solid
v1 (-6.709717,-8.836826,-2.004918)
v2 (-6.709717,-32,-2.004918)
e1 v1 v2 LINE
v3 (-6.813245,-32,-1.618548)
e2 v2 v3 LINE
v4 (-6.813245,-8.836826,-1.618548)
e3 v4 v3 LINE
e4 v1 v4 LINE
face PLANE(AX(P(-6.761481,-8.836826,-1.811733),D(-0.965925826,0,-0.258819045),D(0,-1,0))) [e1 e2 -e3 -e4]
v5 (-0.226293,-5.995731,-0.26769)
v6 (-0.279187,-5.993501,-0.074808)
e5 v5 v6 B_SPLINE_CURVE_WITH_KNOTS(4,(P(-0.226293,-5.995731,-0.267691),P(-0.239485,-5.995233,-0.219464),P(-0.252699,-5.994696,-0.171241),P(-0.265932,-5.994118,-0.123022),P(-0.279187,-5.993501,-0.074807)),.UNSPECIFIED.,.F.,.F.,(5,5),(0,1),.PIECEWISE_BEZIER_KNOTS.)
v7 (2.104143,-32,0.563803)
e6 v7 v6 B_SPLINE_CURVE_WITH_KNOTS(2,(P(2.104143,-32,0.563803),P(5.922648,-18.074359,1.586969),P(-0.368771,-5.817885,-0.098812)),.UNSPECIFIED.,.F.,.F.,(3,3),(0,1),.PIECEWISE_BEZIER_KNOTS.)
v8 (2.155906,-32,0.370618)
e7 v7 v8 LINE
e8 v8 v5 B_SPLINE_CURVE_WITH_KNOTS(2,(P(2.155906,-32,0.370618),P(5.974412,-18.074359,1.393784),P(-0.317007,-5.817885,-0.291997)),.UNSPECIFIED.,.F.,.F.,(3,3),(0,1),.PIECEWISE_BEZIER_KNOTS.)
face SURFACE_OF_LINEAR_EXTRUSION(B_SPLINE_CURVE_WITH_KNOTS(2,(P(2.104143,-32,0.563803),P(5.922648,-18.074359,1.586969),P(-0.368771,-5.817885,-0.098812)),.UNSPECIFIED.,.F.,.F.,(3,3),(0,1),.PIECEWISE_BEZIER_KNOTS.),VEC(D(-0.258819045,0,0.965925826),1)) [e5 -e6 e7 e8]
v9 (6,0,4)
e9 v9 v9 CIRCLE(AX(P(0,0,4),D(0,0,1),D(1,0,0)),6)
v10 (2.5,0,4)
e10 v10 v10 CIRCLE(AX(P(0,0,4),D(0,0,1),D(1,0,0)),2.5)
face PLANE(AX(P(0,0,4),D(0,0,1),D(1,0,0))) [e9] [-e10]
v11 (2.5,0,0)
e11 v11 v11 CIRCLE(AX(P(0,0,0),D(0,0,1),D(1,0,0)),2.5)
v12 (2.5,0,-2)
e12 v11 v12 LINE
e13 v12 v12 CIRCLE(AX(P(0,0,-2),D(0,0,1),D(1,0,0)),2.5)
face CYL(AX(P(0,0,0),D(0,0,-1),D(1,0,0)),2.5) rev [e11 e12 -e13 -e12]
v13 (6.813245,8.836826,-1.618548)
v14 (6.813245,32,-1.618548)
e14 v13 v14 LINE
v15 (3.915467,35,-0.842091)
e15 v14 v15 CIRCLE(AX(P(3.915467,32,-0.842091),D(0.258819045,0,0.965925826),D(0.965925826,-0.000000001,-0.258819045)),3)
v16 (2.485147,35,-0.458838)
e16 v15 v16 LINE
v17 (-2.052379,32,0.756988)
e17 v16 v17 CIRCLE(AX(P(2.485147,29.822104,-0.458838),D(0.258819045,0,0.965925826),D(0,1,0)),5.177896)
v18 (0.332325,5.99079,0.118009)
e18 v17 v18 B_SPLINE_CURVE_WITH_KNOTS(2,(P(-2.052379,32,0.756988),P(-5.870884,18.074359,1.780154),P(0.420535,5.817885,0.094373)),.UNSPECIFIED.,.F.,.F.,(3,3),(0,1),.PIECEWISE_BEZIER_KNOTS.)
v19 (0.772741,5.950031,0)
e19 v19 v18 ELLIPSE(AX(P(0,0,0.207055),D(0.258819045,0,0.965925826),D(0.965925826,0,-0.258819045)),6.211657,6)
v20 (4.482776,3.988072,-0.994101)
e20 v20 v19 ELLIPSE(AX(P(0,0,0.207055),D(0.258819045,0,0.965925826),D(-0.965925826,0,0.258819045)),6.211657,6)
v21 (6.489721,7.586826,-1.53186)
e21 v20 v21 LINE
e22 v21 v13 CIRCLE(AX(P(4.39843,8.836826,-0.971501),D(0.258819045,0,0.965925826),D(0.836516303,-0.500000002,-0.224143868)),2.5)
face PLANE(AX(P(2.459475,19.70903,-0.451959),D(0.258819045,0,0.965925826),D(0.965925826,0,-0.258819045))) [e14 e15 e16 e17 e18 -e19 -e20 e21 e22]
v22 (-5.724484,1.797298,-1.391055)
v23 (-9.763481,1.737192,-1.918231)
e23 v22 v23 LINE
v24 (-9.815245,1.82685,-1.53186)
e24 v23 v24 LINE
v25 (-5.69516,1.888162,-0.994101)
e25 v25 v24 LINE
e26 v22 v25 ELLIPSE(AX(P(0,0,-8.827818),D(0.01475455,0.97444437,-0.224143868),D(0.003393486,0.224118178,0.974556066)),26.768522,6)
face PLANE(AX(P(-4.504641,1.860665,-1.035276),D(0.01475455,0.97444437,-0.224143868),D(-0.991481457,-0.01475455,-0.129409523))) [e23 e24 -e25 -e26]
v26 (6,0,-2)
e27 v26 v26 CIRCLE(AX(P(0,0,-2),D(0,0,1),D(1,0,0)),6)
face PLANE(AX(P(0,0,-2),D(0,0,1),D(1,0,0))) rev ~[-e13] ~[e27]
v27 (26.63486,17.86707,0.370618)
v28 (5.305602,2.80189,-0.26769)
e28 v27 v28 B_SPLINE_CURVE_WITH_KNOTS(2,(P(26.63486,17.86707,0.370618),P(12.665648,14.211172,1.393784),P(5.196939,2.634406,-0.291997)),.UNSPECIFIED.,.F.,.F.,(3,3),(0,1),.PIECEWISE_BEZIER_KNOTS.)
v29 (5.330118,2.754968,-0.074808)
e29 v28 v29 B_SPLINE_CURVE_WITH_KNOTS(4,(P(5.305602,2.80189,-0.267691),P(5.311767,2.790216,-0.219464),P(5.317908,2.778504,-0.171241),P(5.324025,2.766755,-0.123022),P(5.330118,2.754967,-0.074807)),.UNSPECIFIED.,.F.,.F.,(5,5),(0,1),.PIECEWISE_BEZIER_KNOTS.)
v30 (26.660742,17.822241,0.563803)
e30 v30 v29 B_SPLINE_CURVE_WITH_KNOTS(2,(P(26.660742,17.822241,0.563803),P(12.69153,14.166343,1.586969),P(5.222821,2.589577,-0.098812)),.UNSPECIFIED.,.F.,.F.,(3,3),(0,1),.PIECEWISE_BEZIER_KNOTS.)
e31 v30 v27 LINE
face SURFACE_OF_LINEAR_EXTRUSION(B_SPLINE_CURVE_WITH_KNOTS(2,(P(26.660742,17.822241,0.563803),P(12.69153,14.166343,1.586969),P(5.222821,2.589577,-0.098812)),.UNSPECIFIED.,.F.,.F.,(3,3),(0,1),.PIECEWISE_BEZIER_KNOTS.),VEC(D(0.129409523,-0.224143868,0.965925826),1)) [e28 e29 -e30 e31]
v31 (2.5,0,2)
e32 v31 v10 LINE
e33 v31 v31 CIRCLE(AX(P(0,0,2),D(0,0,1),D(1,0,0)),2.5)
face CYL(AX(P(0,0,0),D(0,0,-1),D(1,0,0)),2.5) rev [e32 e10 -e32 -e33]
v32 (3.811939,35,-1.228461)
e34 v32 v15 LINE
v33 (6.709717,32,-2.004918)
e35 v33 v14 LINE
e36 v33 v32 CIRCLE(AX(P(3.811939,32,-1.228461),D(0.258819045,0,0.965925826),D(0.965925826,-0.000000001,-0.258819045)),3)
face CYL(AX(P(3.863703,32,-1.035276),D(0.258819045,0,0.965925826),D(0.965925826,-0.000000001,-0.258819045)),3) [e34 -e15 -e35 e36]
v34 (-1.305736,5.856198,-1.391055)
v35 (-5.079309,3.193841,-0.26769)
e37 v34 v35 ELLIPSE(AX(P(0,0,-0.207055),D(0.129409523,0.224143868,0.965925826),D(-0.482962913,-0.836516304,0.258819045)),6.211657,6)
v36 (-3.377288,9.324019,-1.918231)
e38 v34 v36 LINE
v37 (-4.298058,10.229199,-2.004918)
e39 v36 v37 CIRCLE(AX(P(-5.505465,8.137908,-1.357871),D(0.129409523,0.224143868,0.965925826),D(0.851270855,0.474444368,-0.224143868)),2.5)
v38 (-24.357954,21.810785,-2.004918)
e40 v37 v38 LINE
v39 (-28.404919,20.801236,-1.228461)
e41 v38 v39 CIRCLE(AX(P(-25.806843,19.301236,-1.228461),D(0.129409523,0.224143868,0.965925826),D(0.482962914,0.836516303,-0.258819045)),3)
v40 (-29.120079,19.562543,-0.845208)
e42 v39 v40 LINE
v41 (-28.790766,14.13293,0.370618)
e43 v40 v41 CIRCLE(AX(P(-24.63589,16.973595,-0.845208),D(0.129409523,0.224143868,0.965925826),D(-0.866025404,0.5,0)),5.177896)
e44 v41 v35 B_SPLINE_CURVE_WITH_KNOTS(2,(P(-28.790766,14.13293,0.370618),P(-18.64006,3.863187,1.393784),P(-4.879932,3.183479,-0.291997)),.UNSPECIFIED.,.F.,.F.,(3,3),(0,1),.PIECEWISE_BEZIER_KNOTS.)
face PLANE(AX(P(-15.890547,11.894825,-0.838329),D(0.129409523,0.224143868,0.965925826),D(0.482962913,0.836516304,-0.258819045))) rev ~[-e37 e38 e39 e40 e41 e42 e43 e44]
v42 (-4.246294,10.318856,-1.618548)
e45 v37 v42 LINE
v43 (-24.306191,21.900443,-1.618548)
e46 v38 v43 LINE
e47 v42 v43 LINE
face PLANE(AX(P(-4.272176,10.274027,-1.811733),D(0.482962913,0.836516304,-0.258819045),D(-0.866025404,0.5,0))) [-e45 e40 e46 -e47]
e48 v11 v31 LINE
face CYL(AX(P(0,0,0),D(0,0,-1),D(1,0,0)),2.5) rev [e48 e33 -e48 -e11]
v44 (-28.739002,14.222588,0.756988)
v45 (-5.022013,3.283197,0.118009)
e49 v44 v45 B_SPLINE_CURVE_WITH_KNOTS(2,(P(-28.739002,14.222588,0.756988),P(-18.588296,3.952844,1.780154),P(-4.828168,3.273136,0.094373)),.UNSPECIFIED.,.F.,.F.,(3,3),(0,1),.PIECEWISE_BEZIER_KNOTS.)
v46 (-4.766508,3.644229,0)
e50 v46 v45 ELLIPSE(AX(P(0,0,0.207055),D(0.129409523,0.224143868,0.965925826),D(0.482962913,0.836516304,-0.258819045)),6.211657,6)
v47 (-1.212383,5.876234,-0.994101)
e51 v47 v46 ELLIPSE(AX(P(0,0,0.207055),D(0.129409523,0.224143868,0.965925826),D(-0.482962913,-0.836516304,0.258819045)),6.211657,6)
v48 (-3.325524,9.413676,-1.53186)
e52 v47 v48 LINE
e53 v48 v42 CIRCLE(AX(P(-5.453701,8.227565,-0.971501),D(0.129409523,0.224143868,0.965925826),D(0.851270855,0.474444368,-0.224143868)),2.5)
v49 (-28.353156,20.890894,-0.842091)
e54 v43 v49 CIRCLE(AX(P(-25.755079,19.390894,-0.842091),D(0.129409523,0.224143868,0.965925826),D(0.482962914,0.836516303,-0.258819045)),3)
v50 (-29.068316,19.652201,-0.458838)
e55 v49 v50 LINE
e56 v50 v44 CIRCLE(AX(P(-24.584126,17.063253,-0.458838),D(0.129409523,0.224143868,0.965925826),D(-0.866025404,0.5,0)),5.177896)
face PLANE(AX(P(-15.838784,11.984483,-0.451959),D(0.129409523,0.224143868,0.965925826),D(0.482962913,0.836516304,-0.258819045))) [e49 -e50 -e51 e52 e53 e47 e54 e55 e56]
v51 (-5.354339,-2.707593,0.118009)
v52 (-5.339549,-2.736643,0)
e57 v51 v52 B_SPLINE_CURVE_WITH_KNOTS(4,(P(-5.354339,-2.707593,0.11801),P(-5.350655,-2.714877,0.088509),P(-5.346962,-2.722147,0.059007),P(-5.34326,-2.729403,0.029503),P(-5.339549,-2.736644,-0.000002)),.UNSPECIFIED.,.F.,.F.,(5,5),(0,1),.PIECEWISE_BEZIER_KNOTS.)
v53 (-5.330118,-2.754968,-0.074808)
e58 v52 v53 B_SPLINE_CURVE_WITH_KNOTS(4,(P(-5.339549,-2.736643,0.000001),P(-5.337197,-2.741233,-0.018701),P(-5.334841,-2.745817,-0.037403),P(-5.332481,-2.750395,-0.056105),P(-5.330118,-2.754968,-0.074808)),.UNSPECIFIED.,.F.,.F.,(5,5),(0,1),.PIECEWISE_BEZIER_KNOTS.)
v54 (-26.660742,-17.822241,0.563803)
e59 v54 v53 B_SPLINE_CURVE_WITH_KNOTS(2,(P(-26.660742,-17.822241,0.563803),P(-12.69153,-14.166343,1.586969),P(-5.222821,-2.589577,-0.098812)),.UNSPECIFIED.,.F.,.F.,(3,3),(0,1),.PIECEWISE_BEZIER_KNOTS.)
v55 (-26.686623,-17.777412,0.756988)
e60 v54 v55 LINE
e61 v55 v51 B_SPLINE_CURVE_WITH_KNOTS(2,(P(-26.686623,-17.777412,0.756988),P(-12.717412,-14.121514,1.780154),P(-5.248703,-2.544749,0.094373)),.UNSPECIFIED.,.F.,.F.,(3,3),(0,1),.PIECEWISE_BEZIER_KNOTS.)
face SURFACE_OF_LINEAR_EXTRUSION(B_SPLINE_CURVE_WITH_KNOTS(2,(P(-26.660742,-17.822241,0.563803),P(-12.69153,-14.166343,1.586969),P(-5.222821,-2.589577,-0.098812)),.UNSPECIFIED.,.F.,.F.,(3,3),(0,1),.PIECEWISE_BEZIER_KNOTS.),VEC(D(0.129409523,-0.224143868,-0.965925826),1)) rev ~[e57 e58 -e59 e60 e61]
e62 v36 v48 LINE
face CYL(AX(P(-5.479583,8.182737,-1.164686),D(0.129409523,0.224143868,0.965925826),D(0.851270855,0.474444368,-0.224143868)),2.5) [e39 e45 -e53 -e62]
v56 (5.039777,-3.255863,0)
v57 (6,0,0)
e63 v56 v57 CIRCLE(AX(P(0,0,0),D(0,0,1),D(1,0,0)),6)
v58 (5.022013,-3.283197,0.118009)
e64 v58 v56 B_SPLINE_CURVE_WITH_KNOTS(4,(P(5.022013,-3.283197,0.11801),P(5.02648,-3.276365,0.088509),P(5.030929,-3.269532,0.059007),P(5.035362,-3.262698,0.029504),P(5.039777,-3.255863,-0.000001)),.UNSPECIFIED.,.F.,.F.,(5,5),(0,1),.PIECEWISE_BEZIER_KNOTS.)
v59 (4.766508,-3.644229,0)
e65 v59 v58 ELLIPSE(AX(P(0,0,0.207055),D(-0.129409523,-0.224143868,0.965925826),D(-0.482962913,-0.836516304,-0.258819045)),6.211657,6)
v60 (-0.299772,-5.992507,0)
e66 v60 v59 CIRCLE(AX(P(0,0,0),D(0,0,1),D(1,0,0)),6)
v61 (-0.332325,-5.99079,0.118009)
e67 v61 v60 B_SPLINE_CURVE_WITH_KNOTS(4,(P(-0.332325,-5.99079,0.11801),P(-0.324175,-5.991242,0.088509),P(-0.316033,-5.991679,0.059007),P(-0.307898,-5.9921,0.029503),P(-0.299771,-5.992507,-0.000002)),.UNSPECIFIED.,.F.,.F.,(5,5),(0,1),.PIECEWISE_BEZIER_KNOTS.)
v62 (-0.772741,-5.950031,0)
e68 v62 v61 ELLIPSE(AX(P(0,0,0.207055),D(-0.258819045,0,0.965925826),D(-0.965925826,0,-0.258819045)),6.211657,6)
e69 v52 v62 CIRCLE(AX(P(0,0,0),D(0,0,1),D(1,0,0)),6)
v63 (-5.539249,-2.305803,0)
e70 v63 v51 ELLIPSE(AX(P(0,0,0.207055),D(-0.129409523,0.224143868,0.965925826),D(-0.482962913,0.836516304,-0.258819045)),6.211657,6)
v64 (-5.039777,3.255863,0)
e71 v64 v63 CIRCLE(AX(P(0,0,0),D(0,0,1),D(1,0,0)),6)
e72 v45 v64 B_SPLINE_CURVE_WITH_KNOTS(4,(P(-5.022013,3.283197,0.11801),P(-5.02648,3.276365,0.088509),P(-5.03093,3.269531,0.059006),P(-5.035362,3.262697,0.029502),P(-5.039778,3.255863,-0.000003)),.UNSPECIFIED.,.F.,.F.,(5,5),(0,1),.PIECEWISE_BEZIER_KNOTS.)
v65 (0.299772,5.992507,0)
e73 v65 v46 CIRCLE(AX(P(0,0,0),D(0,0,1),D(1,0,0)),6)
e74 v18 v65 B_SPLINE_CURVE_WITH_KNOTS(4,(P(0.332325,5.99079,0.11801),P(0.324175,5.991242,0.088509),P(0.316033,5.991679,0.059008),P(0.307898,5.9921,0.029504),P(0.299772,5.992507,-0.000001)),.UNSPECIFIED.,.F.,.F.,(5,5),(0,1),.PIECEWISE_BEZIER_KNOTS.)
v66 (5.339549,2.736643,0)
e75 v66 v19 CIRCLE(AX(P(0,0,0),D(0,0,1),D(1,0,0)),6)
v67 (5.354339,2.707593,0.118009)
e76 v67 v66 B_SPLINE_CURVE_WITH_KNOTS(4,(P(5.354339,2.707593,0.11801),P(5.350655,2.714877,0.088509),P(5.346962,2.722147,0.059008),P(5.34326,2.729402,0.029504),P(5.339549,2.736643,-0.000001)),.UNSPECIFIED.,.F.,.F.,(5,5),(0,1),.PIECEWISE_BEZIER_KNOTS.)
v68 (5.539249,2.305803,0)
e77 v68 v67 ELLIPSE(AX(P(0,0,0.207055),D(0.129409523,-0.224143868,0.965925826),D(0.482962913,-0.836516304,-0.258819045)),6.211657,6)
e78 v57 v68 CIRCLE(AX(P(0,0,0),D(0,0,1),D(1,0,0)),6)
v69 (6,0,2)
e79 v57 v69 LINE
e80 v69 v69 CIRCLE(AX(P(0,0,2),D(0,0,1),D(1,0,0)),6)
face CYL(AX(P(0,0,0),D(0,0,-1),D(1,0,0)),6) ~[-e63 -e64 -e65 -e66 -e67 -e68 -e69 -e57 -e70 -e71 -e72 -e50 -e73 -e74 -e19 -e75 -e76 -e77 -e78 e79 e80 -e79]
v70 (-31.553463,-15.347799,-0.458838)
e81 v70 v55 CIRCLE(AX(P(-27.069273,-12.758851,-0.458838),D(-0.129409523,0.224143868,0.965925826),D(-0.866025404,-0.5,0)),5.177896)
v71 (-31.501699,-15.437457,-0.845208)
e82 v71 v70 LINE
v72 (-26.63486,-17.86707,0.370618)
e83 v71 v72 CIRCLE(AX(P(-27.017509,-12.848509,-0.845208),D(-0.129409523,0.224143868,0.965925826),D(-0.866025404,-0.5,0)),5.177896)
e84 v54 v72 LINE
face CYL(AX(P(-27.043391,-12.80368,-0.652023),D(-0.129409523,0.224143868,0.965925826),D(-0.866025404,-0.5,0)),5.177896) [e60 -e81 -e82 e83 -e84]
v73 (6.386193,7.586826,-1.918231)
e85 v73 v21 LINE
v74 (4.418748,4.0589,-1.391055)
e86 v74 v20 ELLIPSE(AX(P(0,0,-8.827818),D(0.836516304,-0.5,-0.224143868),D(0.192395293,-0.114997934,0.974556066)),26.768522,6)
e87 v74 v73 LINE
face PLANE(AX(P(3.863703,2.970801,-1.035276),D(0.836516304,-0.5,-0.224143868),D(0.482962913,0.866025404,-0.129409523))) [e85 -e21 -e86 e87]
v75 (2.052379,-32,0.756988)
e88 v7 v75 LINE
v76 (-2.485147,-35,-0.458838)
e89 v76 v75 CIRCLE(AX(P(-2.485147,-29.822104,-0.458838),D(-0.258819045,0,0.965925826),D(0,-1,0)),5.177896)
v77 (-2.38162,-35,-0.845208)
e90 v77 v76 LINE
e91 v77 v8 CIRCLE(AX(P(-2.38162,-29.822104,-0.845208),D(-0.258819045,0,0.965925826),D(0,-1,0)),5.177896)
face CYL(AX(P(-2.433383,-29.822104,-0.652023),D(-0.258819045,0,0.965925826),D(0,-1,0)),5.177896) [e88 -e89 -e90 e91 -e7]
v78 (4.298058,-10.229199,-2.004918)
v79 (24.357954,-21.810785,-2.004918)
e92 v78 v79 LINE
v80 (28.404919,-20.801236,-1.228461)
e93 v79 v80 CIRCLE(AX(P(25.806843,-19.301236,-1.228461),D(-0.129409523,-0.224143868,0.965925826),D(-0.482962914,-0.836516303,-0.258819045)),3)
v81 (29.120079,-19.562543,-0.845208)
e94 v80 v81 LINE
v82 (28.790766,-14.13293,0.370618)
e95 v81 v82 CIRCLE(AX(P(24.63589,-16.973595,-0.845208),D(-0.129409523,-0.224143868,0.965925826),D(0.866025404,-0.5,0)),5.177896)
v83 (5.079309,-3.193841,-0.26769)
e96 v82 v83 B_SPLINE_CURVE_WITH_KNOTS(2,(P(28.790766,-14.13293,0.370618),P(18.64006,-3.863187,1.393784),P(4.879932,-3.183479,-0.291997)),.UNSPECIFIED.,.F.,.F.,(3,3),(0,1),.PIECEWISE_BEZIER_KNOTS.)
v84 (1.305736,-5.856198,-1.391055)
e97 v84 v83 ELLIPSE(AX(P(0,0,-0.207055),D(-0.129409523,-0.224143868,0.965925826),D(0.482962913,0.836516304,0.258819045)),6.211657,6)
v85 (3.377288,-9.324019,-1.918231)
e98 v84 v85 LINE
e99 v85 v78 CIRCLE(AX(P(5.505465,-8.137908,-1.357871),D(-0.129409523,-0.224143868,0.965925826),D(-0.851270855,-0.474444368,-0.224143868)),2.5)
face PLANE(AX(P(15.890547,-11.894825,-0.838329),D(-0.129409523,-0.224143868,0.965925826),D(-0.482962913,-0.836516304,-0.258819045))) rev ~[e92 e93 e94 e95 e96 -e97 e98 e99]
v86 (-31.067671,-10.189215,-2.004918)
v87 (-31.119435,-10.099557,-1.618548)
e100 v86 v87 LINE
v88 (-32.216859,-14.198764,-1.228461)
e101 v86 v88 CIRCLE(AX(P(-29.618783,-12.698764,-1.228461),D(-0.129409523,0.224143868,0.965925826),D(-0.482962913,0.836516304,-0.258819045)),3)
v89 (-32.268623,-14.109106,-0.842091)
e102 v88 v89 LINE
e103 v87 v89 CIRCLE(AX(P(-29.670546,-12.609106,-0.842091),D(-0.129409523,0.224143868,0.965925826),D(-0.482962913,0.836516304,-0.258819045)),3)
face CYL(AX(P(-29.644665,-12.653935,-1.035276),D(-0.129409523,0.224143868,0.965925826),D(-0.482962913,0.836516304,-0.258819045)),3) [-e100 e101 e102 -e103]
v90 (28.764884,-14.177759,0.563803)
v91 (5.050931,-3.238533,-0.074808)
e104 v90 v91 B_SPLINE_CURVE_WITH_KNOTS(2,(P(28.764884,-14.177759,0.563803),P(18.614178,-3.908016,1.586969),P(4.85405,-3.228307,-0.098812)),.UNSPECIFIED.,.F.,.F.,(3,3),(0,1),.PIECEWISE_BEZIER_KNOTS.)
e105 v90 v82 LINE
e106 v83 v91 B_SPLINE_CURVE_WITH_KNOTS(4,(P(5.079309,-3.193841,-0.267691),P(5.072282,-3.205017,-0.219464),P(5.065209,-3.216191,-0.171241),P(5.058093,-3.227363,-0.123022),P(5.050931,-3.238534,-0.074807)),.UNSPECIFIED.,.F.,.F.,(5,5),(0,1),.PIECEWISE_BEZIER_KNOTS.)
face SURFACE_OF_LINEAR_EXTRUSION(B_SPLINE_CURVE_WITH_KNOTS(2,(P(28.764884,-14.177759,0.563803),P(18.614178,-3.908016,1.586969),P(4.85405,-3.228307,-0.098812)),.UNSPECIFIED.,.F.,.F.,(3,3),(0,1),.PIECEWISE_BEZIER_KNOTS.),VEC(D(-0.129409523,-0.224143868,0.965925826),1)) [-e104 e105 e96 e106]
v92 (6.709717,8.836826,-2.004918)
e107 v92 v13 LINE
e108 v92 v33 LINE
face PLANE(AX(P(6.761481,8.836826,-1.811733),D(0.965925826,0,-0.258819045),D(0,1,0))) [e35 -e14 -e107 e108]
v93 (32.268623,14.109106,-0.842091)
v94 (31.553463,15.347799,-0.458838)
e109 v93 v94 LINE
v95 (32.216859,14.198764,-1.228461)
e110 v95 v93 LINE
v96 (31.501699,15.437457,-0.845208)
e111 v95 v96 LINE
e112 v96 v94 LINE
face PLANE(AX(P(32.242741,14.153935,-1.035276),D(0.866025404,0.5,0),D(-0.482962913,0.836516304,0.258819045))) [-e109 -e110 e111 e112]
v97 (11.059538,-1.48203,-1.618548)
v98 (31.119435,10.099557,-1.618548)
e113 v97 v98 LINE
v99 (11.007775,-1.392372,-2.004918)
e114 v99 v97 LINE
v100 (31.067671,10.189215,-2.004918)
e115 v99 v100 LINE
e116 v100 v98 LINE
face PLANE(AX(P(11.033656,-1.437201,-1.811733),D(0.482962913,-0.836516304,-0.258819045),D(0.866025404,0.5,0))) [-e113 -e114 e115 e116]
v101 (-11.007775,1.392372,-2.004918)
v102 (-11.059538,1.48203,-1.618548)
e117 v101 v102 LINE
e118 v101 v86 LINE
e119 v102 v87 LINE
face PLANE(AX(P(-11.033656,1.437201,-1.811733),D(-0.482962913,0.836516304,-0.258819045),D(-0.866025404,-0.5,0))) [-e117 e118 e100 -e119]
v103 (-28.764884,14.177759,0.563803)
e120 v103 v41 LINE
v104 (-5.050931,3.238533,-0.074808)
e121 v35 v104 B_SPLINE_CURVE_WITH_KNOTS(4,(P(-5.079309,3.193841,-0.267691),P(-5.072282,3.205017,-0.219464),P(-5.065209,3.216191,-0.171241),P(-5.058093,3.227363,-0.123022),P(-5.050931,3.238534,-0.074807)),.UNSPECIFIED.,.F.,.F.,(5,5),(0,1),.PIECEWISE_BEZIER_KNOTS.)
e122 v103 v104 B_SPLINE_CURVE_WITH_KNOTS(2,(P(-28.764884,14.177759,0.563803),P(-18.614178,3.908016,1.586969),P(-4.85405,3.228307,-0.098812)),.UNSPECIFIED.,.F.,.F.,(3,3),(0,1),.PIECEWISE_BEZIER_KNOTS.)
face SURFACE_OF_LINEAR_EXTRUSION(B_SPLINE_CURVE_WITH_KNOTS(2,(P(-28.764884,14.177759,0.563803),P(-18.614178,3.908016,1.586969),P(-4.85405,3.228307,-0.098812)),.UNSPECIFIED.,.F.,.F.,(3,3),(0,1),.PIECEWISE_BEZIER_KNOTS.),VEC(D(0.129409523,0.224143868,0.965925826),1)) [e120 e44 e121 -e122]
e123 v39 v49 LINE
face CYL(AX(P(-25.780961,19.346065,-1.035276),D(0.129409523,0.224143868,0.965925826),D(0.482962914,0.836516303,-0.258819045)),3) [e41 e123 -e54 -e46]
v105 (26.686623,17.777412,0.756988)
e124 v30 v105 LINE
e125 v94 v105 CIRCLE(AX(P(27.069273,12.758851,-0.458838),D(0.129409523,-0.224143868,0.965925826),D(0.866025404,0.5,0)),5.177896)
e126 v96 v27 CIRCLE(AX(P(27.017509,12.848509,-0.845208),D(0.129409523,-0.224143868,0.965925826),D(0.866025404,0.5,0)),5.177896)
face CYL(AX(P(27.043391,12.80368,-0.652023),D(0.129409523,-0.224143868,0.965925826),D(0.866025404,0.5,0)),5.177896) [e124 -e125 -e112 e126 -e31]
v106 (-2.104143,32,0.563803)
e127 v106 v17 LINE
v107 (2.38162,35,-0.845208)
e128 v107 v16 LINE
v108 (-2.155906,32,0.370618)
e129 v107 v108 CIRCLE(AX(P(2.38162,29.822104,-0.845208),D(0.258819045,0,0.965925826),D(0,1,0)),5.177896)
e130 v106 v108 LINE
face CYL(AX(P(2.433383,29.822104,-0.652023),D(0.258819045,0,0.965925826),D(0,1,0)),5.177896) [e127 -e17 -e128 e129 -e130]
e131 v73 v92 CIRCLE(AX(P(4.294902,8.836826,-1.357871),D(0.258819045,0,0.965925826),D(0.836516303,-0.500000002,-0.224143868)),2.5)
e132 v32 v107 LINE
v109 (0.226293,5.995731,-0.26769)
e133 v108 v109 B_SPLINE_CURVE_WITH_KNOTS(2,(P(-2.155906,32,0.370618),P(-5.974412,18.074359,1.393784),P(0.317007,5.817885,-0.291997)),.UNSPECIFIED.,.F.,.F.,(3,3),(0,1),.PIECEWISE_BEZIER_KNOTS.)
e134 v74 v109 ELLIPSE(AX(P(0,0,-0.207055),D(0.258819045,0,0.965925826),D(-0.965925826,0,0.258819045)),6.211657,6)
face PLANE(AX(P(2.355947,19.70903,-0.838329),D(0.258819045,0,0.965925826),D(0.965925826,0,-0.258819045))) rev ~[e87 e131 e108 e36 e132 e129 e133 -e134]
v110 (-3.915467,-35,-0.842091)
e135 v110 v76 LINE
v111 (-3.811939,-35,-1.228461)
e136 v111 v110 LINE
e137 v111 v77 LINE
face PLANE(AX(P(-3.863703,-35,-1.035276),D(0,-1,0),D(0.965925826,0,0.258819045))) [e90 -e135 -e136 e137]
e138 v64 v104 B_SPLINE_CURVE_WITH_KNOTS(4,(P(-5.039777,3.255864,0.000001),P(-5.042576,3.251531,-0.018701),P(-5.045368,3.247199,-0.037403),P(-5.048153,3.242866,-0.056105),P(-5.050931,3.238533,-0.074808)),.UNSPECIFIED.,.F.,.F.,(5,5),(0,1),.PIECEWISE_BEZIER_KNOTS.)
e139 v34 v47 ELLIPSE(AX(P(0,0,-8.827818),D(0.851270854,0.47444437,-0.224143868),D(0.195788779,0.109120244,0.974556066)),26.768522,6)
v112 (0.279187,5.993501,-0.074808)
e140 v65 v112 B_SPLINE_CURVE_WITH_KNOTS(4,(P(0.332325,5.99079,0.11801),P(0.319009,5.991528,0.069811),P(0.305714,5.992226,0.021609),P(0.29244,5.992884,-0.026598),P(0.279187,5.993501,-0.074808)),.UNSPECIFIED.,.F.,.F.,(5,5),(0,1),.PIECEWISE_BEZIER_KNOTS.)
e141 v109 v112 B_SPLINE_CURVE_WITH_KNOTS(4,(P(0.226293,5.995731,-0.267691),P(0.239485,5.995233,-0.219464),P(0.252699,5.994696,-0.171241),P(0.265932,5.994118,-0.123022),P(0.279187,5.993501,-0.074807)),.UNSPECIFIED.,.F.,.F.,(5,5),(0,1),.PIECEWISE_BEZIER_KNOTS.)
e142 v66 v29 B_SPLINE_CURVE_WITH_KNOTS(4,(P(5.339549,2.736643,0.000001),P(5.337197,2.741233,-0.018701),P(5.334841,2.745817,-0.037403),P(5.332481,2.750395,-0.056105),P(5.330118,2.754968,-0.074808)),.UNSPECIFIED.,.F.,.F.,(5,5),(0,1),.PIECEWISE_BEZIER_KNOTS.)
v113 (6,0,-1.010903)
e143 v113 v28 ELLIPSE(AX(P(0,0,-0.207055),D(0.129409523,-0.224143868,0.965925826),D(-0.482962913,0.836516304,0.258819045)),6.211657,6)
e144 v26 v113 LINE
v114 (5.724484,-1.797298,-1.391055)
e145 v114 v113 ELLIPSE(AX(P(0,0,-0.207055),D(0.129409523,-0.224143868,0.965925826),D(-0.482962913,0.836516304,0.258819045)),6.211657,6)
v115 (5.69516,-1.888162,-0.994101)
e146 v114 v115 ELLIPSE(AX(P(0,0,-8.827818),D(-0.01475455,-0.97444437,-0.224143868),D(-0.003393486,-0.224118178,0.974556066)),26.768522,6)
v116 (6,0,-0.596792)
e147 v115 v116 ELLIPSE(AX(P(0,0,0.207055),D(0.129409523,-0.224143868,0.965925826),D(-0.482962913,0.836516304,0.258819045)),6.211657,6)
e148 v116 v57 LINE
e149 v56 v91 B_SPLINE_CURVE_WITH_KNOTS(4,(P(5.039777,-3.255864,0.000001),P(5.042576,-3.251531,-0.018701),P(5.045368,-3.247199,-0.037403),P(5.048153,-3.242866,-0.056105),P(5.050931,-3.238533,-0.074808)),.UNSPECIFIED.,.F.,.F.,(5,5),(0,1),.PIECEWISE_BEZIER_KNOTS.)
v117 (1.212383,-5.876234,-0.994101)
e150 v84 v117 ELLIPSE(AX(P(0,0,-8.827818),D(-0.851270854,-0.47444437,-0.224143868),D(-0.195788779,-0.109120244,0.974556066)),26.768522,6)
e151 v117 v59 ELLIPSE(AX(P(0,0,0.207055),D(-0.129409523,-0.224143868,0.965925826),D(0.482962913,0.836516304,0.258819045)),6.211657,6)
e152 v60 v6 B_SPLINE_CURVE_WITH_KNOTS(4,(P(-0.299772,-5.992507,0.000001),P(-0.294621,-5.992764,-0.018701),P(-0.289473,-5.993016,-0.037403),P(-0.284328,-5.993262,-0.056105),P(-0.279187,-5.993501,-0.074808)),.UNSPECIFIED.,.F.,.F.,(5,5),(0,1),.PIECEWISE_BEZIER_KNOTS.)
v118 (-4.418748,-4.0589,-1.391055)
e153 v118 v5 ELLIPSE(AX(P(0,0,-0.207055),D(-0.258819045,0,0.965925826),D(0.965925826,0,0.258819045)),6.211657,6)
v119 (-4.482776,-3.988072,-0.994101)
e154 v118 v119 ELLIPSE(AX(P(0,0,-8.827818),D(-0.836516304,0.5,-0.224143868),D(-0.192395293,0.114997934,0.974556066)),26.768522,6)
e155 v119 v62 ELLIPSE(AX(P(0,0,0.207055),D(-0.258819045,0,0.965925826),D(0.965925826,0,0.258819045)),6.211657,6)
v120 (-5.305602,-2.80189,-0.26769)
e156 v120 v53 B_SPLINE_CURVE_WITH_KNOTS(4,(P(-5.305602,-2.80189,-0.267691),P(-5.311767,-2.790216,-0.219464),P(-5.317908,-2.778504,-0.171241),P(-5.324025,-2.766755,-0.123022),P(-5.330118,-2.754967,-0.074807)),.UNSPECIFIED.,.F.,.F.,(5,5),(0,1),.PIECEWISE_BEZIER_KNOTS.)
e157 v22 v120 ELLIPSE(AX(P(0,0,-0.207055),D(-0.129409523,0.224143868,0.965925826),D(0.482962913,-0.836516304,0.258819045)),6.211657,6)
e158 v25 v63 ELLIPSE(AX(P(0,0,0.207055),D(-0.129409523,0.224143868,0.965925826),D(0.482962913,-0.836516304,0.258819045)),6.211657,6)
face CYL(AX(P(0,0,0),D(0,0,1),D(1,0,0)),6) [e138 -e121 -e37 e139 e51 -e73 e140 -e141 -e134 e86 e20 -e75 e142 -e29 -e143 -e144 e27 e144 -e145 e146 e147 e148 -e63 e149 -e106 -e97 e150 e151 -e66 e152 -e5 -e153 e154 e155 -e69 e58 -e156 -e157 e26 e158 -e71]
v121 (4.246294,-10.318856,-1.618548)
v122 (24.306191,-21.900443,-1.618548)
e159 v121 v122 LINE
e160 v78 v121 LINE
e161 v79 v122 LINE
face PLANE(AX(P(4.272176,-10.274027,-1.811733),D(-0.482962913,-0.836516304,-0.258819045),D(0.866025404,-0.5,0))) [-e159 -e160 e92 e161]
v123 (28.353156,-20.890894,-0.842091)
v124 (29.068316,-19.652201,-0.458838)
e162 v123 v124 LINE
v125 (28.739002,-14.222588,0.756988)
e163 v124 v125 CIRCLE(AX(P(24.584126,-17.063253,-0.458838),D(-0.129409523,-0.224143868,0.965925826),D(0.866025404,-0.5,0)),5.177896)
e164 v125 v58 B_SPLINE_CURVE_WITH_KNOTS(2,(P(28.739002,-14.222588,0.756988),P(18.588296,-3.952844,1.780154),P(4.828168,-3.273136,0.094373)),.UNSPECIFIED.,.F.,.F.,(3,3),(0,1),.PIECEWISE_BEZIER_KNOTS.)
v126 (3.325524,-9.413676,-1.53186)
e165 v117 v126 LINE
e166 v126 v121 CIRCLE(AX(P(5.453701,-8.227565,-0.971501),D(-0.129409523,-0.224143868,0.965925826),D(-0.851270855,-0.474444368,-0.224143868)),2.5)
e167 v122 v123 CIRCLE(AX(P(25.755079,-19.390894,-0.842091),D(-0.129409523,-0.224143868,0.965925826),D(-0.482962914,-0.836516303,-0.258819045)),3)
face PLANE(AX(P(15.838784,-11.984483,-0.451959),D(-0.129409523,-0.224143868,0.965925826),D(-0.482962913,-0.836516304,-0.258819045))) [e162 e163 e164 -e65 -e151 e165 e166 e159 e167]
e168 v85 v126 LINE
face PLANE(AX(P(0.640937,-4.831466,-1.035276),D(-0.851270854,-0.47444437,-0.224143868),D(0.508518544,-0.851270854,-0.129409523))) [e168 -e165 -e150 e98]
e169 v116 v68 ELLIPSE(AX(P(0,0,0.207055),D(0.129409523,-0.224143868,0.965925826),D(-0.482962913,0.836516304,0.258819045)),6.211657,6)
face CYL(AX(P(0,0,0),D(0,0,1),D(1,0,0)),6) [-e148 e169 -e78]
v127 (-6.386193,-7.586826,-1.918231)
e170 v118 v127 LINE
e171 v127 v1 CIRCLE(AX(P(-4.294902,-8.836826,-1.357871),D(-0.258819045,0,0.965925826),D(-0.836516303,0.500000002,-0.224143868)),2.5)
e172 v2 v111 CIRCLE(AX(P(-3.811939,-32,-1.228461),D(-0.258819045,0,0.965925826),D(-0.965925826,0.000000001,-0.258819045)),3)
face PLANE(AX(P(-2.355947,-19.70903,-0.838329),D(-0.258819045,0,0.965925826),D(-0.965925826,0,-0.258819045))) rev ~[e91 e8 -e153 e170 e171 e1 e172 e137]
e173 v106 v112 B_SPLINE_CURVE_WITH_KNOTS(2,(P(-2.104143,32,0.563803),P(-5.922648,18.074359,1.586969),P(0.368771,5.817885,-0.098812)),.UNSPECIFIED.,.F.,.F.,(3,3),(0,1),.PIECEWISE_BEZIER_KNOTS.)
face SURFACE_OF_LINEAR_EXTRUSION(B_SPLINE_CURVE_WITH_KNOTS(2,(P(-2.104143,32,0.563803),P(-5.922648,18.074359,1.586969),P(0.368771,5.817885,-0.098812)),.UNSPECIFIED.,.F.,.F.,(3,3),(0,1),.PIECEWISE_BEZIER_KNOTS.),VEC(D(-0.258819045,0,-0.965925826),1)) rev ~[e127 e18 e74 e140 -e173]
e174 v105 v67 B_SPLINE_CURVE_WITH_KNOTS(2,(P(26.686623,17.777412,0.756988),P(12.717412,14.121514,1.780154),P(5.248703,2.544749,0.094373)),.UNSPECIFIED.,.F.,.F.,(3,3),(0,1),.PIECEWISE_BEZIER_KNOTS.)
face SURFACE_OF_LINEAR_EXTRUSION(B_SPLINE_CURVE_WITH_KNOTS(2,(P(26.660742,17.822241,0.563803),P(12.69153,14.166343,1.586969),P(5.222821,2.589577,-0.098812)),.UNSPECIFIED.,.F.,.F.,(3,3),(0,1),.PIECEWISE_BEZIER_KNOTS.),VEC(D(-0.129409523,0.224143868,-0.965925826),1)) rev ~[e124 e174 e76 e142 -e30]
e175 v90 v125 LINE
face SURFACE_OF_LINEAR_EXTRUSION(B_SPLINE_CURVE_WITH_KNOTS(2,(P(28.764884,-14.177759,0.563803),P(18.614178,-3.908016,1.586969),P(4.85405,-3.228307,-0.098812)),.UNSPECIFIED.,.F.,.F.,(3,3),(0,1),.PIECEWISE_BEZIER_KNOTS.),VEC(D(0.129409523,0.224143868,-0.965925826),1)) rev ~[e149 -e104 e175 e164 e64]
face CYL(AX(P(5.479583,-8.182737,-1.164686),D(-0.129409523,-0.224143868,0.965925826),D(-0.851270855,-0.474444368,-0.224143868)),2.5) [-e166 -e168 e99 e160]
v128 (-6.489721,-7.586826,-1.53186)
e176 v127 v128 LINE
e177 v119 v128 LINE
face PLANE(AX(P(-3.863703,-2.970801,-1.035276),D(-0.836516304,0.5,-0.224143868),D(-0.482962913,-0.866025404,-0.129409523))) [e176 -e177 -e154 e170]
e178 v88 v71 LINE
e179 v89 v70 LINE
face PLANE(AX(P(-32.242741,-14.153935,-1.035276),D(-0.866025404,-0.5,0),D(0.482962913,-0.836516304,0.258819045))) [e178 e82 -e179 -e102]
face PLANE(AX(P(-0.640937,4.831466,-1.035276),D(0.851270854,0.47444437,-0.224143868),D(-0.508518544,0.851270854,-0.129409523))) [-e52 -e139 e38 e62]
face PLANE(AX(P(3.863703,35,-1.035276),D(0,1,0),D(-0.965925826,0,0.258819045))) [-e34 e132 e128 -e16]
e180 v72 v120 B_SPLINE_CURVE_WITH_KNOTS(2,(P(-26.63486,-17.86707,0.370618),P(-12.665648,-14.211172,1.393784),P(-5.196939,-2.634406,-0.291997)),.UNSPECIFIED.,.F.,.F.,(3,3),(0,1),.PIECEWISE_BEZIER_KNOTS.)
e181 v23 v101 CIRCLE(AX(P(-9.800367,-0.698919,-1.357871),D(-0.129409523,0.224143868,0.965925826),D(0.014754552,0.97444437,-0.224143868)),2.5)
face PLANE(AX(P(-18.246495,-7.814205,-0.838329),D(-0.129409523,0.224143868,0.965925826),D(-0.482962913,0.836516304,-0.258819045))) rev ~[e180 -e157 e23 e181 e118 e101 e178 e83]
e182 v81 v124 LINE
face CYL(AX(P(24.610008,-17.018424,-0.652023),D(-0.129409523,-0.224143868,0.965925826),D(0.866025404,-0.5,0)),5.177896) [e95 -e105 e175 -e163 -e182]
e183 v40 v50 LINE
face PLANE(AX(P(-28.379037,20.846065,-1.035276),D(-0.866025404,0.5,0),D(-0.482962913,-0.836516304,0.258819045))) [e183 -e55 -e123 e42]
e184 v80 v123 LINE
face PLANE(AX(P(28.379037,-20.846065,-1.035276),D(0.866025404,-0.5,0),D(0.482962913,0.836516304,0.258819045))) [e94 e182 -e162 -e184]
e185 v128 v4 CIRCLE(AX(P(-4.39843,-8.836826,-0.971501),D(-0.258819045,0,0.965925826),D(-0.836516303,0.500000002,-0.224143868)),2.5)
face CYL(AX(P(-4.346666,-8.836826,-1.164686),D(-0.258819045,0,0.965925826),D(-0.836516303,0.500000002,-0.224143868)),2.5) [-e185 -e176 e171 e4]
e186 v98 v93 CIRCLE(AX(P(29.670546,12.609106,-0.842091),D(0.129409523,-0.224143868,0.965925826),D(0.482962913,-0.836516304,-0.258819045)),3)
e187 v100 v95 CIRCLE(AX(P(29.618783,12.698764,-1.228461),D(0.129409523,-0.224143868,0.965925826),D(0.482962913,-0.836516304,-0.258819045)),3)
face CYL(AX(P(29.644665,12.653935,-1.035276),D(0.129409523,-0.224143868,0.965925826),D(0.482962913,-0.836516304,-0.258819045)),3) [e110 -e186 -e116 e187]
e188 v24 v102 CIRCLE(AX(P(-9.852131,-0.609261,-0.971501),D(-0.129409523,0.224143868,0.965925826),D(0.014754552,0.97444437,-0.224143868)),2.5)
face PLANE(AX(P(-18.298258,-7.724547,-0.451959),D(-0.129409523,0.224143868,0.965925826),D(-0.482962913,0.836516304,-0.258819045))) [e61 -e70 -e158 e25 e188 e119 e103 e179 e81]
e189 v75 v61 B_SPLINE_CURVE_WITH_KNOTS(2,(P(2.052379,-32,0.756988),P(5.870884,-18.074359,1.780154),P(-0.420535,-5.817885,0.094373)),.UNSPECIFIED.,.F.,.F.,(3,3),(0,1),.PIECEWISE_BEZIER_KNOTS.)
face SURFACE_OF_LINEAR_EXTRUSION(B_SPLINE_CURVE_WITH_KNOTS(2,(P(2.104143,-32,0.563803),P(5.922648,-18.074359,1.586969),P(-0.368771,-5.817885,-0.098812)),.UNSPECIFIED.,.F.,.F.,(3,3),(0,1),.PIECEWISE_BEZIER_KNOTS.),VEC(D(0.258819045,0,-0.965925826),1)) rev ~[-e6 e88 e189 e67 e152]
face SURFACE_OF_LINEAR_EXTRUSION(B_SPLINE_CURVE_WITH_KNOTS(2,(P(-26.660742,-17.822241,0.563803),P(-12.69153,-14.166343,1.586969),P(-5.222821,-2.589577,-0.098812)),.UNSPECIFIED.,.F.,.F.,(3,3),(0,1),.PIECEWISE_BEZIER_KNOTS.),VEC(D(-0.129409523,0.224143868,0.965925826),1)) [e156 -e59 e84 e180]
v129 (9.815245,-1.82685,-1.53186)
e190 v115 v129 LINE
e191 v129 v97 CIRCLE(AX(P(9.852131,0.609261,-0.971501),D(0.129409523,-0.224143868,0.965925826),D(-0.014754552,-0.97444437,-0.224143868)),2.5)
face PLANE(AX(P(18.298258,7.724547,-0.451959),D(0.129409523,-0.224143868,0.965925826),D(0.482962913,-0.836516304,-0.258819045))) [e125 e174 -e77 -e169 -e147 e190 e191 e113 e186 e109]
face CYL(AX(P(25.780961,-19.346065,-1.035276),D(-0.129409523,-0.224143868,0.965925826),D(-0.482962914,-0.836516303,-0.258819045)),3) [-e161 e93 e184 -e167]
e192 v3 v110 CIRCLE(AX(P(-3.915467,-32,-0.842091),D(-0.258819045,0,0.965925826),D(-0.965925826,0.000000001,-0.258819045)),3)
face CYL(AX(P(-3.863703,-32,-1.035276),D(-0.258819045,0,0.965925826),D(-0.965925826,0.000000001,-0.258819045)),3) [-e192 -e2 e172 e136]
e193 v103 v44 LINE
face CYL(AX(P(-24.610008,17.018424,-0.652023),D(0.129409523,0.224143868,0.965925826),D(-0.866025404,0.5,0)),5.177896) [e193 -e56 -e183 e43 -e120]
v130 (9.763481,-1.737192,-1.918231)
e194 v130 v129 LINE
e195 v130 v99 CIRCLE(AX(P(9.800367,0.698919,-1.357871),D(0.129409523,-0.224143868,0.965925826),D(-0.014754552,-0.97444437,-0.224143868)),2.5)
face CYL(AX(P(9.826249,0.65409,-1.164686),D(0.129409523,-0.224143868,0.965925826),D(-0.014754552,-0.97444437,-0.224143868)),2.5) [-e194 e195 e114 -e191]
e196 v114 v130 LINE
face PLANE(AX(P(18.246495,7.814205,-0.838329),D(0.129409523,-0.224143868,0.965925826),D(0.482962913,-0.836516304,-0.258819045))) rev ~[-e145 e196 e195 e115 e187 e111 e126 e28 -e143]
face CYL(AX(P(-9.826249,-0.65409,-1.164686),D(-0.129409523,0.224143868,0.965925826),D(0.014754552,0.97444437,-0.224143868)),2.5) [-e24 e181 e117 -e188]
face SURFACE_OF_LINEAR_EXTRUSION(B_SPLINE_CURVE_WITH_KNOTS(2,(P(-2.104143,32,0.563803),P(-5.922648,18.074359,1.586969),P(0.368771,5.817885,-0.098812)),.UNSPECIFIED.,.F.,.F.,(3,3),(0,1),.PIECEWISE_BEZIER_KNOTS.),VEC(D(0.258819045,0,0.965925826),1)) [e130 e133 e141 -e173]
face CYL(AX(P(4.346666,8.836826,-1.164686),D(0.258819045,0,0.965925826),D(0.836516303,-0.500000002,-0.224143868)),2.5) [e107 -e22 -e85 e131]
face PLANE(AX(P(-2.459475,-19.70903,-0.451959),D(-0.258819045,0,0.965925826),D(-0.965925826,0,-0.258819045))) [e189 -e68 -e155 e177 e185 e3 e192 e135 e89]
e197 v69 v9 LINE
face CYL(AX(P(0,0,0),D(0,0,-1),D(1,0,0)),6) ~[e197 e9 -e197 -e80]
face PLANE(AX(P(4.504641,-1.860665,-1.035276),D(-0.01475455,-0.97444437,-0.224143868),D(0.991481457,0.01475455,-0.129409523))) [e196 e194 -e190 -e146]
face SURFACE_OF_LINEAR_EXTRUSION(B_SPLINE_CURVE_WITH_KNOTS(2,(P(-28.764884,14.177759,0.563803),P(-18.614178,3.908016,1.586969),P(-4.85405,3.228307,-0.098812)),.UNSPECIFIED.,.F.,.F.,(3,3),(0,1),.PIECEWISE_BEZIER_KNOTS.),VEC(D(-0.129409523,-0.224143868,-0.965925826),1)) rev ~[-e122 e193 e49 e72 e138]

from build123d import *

# Parameters (mm, degrees)
SKETCH_2_R               = 6
SKETCH_2_R_2             = 2.5
EXTRUDE_1_DEPTH          = 4
EXTRUDE_2_DEPTH          = 0.2
SKETCH_2_5_R             = 6
SKETCH_2_5_R_2           = 2.5
EXTRUDE_6_DEPTH          = 2
PATTERN_CIRCULAR_1_COUNT = 6


with BuildPart() as part:
    # 草图2 → 凸台-拉伸1 (new body)
    with BuildSketch(Plane.XY):
        Circle(SKETCH_2_R)
        Circle(SKETCH_2_R_2, mode=Mode.SUBTRACT)
    extrude(amount=EXTRUDE_1_DEPTH)

    # 草图6 → 凸台-拉伸2 (add, symmetric)
    with BuildSketch(Plane(origin=(0, 0, 0), x_dir=(0.9659258262890681, 0, -0.2588190451025218), z_dir=(0.2588190451025218, 0, 0.9659258262890681))):
        with BuildLine():
            Line((4, 2.970800909), (6.665063509, 7.586826313))
            ThreePointArc((6.665063509, 7.586826313), (6.914814566, 8.1897787), (7, 8.836826313))
            Line((7, 8.836826313), (7, 32))
            ThreePointArc((7, 32), (6.121320344, 34.121320344), (4, 35))
            Line((4, 35), (2.519223828, 35))
            ThreePointArc((2.519223828, 35), (-0.267681994, 34.186020016), (-2.178368771, 32))
            add(Edge.make_bspline(
                [(-2.178368771, 32), (-6.131576328, 18.074358524), (0.381779744, 5.817884597)],
                knots=[0, 0, 0, 1, 1, 1], degree=2))
            add(Edge.make_bspline(
                [(4, 2.970800909), (2.776948837, 5.192610395), (0.381779744, 5.817884597)],
                knots=[5.230377445, 5.230377445, 5.230377445, 6.036173694, 6.036173694, 6.036173694], degree=2, weights=[1, 0.919928545, 1]))
        make_face()
    extrude_2 = extrude(amount=EXTRUDE_2_DEPTH, both=True)

    # 草图2<5> → 凸台-拉伸6 (add, symmetric)
    with BuildSketch(Plane.XY):
        Circle(SKETCH_2_5_R)
        Circle(SKETCH_2_5_R_2, mode=Mode.SUBTRACT)
    extrude(amount=EXTRUDE_6_DEPTH, both=True)

    # 阵列(圆周)1: 凸台-拉伸2 ×6 about axis
    pattern_circular_1_axis = Axis((0, 0, 4), (0, 0, -1))
    for i in range(1, PATTERN_CIRCULAR_1_COUNT):
        add(extrude_2.rotate(pattern_circular_1_axis, i * 360 / PATTERN_CIRCULAR_1_COUNT))


solid = part.part
